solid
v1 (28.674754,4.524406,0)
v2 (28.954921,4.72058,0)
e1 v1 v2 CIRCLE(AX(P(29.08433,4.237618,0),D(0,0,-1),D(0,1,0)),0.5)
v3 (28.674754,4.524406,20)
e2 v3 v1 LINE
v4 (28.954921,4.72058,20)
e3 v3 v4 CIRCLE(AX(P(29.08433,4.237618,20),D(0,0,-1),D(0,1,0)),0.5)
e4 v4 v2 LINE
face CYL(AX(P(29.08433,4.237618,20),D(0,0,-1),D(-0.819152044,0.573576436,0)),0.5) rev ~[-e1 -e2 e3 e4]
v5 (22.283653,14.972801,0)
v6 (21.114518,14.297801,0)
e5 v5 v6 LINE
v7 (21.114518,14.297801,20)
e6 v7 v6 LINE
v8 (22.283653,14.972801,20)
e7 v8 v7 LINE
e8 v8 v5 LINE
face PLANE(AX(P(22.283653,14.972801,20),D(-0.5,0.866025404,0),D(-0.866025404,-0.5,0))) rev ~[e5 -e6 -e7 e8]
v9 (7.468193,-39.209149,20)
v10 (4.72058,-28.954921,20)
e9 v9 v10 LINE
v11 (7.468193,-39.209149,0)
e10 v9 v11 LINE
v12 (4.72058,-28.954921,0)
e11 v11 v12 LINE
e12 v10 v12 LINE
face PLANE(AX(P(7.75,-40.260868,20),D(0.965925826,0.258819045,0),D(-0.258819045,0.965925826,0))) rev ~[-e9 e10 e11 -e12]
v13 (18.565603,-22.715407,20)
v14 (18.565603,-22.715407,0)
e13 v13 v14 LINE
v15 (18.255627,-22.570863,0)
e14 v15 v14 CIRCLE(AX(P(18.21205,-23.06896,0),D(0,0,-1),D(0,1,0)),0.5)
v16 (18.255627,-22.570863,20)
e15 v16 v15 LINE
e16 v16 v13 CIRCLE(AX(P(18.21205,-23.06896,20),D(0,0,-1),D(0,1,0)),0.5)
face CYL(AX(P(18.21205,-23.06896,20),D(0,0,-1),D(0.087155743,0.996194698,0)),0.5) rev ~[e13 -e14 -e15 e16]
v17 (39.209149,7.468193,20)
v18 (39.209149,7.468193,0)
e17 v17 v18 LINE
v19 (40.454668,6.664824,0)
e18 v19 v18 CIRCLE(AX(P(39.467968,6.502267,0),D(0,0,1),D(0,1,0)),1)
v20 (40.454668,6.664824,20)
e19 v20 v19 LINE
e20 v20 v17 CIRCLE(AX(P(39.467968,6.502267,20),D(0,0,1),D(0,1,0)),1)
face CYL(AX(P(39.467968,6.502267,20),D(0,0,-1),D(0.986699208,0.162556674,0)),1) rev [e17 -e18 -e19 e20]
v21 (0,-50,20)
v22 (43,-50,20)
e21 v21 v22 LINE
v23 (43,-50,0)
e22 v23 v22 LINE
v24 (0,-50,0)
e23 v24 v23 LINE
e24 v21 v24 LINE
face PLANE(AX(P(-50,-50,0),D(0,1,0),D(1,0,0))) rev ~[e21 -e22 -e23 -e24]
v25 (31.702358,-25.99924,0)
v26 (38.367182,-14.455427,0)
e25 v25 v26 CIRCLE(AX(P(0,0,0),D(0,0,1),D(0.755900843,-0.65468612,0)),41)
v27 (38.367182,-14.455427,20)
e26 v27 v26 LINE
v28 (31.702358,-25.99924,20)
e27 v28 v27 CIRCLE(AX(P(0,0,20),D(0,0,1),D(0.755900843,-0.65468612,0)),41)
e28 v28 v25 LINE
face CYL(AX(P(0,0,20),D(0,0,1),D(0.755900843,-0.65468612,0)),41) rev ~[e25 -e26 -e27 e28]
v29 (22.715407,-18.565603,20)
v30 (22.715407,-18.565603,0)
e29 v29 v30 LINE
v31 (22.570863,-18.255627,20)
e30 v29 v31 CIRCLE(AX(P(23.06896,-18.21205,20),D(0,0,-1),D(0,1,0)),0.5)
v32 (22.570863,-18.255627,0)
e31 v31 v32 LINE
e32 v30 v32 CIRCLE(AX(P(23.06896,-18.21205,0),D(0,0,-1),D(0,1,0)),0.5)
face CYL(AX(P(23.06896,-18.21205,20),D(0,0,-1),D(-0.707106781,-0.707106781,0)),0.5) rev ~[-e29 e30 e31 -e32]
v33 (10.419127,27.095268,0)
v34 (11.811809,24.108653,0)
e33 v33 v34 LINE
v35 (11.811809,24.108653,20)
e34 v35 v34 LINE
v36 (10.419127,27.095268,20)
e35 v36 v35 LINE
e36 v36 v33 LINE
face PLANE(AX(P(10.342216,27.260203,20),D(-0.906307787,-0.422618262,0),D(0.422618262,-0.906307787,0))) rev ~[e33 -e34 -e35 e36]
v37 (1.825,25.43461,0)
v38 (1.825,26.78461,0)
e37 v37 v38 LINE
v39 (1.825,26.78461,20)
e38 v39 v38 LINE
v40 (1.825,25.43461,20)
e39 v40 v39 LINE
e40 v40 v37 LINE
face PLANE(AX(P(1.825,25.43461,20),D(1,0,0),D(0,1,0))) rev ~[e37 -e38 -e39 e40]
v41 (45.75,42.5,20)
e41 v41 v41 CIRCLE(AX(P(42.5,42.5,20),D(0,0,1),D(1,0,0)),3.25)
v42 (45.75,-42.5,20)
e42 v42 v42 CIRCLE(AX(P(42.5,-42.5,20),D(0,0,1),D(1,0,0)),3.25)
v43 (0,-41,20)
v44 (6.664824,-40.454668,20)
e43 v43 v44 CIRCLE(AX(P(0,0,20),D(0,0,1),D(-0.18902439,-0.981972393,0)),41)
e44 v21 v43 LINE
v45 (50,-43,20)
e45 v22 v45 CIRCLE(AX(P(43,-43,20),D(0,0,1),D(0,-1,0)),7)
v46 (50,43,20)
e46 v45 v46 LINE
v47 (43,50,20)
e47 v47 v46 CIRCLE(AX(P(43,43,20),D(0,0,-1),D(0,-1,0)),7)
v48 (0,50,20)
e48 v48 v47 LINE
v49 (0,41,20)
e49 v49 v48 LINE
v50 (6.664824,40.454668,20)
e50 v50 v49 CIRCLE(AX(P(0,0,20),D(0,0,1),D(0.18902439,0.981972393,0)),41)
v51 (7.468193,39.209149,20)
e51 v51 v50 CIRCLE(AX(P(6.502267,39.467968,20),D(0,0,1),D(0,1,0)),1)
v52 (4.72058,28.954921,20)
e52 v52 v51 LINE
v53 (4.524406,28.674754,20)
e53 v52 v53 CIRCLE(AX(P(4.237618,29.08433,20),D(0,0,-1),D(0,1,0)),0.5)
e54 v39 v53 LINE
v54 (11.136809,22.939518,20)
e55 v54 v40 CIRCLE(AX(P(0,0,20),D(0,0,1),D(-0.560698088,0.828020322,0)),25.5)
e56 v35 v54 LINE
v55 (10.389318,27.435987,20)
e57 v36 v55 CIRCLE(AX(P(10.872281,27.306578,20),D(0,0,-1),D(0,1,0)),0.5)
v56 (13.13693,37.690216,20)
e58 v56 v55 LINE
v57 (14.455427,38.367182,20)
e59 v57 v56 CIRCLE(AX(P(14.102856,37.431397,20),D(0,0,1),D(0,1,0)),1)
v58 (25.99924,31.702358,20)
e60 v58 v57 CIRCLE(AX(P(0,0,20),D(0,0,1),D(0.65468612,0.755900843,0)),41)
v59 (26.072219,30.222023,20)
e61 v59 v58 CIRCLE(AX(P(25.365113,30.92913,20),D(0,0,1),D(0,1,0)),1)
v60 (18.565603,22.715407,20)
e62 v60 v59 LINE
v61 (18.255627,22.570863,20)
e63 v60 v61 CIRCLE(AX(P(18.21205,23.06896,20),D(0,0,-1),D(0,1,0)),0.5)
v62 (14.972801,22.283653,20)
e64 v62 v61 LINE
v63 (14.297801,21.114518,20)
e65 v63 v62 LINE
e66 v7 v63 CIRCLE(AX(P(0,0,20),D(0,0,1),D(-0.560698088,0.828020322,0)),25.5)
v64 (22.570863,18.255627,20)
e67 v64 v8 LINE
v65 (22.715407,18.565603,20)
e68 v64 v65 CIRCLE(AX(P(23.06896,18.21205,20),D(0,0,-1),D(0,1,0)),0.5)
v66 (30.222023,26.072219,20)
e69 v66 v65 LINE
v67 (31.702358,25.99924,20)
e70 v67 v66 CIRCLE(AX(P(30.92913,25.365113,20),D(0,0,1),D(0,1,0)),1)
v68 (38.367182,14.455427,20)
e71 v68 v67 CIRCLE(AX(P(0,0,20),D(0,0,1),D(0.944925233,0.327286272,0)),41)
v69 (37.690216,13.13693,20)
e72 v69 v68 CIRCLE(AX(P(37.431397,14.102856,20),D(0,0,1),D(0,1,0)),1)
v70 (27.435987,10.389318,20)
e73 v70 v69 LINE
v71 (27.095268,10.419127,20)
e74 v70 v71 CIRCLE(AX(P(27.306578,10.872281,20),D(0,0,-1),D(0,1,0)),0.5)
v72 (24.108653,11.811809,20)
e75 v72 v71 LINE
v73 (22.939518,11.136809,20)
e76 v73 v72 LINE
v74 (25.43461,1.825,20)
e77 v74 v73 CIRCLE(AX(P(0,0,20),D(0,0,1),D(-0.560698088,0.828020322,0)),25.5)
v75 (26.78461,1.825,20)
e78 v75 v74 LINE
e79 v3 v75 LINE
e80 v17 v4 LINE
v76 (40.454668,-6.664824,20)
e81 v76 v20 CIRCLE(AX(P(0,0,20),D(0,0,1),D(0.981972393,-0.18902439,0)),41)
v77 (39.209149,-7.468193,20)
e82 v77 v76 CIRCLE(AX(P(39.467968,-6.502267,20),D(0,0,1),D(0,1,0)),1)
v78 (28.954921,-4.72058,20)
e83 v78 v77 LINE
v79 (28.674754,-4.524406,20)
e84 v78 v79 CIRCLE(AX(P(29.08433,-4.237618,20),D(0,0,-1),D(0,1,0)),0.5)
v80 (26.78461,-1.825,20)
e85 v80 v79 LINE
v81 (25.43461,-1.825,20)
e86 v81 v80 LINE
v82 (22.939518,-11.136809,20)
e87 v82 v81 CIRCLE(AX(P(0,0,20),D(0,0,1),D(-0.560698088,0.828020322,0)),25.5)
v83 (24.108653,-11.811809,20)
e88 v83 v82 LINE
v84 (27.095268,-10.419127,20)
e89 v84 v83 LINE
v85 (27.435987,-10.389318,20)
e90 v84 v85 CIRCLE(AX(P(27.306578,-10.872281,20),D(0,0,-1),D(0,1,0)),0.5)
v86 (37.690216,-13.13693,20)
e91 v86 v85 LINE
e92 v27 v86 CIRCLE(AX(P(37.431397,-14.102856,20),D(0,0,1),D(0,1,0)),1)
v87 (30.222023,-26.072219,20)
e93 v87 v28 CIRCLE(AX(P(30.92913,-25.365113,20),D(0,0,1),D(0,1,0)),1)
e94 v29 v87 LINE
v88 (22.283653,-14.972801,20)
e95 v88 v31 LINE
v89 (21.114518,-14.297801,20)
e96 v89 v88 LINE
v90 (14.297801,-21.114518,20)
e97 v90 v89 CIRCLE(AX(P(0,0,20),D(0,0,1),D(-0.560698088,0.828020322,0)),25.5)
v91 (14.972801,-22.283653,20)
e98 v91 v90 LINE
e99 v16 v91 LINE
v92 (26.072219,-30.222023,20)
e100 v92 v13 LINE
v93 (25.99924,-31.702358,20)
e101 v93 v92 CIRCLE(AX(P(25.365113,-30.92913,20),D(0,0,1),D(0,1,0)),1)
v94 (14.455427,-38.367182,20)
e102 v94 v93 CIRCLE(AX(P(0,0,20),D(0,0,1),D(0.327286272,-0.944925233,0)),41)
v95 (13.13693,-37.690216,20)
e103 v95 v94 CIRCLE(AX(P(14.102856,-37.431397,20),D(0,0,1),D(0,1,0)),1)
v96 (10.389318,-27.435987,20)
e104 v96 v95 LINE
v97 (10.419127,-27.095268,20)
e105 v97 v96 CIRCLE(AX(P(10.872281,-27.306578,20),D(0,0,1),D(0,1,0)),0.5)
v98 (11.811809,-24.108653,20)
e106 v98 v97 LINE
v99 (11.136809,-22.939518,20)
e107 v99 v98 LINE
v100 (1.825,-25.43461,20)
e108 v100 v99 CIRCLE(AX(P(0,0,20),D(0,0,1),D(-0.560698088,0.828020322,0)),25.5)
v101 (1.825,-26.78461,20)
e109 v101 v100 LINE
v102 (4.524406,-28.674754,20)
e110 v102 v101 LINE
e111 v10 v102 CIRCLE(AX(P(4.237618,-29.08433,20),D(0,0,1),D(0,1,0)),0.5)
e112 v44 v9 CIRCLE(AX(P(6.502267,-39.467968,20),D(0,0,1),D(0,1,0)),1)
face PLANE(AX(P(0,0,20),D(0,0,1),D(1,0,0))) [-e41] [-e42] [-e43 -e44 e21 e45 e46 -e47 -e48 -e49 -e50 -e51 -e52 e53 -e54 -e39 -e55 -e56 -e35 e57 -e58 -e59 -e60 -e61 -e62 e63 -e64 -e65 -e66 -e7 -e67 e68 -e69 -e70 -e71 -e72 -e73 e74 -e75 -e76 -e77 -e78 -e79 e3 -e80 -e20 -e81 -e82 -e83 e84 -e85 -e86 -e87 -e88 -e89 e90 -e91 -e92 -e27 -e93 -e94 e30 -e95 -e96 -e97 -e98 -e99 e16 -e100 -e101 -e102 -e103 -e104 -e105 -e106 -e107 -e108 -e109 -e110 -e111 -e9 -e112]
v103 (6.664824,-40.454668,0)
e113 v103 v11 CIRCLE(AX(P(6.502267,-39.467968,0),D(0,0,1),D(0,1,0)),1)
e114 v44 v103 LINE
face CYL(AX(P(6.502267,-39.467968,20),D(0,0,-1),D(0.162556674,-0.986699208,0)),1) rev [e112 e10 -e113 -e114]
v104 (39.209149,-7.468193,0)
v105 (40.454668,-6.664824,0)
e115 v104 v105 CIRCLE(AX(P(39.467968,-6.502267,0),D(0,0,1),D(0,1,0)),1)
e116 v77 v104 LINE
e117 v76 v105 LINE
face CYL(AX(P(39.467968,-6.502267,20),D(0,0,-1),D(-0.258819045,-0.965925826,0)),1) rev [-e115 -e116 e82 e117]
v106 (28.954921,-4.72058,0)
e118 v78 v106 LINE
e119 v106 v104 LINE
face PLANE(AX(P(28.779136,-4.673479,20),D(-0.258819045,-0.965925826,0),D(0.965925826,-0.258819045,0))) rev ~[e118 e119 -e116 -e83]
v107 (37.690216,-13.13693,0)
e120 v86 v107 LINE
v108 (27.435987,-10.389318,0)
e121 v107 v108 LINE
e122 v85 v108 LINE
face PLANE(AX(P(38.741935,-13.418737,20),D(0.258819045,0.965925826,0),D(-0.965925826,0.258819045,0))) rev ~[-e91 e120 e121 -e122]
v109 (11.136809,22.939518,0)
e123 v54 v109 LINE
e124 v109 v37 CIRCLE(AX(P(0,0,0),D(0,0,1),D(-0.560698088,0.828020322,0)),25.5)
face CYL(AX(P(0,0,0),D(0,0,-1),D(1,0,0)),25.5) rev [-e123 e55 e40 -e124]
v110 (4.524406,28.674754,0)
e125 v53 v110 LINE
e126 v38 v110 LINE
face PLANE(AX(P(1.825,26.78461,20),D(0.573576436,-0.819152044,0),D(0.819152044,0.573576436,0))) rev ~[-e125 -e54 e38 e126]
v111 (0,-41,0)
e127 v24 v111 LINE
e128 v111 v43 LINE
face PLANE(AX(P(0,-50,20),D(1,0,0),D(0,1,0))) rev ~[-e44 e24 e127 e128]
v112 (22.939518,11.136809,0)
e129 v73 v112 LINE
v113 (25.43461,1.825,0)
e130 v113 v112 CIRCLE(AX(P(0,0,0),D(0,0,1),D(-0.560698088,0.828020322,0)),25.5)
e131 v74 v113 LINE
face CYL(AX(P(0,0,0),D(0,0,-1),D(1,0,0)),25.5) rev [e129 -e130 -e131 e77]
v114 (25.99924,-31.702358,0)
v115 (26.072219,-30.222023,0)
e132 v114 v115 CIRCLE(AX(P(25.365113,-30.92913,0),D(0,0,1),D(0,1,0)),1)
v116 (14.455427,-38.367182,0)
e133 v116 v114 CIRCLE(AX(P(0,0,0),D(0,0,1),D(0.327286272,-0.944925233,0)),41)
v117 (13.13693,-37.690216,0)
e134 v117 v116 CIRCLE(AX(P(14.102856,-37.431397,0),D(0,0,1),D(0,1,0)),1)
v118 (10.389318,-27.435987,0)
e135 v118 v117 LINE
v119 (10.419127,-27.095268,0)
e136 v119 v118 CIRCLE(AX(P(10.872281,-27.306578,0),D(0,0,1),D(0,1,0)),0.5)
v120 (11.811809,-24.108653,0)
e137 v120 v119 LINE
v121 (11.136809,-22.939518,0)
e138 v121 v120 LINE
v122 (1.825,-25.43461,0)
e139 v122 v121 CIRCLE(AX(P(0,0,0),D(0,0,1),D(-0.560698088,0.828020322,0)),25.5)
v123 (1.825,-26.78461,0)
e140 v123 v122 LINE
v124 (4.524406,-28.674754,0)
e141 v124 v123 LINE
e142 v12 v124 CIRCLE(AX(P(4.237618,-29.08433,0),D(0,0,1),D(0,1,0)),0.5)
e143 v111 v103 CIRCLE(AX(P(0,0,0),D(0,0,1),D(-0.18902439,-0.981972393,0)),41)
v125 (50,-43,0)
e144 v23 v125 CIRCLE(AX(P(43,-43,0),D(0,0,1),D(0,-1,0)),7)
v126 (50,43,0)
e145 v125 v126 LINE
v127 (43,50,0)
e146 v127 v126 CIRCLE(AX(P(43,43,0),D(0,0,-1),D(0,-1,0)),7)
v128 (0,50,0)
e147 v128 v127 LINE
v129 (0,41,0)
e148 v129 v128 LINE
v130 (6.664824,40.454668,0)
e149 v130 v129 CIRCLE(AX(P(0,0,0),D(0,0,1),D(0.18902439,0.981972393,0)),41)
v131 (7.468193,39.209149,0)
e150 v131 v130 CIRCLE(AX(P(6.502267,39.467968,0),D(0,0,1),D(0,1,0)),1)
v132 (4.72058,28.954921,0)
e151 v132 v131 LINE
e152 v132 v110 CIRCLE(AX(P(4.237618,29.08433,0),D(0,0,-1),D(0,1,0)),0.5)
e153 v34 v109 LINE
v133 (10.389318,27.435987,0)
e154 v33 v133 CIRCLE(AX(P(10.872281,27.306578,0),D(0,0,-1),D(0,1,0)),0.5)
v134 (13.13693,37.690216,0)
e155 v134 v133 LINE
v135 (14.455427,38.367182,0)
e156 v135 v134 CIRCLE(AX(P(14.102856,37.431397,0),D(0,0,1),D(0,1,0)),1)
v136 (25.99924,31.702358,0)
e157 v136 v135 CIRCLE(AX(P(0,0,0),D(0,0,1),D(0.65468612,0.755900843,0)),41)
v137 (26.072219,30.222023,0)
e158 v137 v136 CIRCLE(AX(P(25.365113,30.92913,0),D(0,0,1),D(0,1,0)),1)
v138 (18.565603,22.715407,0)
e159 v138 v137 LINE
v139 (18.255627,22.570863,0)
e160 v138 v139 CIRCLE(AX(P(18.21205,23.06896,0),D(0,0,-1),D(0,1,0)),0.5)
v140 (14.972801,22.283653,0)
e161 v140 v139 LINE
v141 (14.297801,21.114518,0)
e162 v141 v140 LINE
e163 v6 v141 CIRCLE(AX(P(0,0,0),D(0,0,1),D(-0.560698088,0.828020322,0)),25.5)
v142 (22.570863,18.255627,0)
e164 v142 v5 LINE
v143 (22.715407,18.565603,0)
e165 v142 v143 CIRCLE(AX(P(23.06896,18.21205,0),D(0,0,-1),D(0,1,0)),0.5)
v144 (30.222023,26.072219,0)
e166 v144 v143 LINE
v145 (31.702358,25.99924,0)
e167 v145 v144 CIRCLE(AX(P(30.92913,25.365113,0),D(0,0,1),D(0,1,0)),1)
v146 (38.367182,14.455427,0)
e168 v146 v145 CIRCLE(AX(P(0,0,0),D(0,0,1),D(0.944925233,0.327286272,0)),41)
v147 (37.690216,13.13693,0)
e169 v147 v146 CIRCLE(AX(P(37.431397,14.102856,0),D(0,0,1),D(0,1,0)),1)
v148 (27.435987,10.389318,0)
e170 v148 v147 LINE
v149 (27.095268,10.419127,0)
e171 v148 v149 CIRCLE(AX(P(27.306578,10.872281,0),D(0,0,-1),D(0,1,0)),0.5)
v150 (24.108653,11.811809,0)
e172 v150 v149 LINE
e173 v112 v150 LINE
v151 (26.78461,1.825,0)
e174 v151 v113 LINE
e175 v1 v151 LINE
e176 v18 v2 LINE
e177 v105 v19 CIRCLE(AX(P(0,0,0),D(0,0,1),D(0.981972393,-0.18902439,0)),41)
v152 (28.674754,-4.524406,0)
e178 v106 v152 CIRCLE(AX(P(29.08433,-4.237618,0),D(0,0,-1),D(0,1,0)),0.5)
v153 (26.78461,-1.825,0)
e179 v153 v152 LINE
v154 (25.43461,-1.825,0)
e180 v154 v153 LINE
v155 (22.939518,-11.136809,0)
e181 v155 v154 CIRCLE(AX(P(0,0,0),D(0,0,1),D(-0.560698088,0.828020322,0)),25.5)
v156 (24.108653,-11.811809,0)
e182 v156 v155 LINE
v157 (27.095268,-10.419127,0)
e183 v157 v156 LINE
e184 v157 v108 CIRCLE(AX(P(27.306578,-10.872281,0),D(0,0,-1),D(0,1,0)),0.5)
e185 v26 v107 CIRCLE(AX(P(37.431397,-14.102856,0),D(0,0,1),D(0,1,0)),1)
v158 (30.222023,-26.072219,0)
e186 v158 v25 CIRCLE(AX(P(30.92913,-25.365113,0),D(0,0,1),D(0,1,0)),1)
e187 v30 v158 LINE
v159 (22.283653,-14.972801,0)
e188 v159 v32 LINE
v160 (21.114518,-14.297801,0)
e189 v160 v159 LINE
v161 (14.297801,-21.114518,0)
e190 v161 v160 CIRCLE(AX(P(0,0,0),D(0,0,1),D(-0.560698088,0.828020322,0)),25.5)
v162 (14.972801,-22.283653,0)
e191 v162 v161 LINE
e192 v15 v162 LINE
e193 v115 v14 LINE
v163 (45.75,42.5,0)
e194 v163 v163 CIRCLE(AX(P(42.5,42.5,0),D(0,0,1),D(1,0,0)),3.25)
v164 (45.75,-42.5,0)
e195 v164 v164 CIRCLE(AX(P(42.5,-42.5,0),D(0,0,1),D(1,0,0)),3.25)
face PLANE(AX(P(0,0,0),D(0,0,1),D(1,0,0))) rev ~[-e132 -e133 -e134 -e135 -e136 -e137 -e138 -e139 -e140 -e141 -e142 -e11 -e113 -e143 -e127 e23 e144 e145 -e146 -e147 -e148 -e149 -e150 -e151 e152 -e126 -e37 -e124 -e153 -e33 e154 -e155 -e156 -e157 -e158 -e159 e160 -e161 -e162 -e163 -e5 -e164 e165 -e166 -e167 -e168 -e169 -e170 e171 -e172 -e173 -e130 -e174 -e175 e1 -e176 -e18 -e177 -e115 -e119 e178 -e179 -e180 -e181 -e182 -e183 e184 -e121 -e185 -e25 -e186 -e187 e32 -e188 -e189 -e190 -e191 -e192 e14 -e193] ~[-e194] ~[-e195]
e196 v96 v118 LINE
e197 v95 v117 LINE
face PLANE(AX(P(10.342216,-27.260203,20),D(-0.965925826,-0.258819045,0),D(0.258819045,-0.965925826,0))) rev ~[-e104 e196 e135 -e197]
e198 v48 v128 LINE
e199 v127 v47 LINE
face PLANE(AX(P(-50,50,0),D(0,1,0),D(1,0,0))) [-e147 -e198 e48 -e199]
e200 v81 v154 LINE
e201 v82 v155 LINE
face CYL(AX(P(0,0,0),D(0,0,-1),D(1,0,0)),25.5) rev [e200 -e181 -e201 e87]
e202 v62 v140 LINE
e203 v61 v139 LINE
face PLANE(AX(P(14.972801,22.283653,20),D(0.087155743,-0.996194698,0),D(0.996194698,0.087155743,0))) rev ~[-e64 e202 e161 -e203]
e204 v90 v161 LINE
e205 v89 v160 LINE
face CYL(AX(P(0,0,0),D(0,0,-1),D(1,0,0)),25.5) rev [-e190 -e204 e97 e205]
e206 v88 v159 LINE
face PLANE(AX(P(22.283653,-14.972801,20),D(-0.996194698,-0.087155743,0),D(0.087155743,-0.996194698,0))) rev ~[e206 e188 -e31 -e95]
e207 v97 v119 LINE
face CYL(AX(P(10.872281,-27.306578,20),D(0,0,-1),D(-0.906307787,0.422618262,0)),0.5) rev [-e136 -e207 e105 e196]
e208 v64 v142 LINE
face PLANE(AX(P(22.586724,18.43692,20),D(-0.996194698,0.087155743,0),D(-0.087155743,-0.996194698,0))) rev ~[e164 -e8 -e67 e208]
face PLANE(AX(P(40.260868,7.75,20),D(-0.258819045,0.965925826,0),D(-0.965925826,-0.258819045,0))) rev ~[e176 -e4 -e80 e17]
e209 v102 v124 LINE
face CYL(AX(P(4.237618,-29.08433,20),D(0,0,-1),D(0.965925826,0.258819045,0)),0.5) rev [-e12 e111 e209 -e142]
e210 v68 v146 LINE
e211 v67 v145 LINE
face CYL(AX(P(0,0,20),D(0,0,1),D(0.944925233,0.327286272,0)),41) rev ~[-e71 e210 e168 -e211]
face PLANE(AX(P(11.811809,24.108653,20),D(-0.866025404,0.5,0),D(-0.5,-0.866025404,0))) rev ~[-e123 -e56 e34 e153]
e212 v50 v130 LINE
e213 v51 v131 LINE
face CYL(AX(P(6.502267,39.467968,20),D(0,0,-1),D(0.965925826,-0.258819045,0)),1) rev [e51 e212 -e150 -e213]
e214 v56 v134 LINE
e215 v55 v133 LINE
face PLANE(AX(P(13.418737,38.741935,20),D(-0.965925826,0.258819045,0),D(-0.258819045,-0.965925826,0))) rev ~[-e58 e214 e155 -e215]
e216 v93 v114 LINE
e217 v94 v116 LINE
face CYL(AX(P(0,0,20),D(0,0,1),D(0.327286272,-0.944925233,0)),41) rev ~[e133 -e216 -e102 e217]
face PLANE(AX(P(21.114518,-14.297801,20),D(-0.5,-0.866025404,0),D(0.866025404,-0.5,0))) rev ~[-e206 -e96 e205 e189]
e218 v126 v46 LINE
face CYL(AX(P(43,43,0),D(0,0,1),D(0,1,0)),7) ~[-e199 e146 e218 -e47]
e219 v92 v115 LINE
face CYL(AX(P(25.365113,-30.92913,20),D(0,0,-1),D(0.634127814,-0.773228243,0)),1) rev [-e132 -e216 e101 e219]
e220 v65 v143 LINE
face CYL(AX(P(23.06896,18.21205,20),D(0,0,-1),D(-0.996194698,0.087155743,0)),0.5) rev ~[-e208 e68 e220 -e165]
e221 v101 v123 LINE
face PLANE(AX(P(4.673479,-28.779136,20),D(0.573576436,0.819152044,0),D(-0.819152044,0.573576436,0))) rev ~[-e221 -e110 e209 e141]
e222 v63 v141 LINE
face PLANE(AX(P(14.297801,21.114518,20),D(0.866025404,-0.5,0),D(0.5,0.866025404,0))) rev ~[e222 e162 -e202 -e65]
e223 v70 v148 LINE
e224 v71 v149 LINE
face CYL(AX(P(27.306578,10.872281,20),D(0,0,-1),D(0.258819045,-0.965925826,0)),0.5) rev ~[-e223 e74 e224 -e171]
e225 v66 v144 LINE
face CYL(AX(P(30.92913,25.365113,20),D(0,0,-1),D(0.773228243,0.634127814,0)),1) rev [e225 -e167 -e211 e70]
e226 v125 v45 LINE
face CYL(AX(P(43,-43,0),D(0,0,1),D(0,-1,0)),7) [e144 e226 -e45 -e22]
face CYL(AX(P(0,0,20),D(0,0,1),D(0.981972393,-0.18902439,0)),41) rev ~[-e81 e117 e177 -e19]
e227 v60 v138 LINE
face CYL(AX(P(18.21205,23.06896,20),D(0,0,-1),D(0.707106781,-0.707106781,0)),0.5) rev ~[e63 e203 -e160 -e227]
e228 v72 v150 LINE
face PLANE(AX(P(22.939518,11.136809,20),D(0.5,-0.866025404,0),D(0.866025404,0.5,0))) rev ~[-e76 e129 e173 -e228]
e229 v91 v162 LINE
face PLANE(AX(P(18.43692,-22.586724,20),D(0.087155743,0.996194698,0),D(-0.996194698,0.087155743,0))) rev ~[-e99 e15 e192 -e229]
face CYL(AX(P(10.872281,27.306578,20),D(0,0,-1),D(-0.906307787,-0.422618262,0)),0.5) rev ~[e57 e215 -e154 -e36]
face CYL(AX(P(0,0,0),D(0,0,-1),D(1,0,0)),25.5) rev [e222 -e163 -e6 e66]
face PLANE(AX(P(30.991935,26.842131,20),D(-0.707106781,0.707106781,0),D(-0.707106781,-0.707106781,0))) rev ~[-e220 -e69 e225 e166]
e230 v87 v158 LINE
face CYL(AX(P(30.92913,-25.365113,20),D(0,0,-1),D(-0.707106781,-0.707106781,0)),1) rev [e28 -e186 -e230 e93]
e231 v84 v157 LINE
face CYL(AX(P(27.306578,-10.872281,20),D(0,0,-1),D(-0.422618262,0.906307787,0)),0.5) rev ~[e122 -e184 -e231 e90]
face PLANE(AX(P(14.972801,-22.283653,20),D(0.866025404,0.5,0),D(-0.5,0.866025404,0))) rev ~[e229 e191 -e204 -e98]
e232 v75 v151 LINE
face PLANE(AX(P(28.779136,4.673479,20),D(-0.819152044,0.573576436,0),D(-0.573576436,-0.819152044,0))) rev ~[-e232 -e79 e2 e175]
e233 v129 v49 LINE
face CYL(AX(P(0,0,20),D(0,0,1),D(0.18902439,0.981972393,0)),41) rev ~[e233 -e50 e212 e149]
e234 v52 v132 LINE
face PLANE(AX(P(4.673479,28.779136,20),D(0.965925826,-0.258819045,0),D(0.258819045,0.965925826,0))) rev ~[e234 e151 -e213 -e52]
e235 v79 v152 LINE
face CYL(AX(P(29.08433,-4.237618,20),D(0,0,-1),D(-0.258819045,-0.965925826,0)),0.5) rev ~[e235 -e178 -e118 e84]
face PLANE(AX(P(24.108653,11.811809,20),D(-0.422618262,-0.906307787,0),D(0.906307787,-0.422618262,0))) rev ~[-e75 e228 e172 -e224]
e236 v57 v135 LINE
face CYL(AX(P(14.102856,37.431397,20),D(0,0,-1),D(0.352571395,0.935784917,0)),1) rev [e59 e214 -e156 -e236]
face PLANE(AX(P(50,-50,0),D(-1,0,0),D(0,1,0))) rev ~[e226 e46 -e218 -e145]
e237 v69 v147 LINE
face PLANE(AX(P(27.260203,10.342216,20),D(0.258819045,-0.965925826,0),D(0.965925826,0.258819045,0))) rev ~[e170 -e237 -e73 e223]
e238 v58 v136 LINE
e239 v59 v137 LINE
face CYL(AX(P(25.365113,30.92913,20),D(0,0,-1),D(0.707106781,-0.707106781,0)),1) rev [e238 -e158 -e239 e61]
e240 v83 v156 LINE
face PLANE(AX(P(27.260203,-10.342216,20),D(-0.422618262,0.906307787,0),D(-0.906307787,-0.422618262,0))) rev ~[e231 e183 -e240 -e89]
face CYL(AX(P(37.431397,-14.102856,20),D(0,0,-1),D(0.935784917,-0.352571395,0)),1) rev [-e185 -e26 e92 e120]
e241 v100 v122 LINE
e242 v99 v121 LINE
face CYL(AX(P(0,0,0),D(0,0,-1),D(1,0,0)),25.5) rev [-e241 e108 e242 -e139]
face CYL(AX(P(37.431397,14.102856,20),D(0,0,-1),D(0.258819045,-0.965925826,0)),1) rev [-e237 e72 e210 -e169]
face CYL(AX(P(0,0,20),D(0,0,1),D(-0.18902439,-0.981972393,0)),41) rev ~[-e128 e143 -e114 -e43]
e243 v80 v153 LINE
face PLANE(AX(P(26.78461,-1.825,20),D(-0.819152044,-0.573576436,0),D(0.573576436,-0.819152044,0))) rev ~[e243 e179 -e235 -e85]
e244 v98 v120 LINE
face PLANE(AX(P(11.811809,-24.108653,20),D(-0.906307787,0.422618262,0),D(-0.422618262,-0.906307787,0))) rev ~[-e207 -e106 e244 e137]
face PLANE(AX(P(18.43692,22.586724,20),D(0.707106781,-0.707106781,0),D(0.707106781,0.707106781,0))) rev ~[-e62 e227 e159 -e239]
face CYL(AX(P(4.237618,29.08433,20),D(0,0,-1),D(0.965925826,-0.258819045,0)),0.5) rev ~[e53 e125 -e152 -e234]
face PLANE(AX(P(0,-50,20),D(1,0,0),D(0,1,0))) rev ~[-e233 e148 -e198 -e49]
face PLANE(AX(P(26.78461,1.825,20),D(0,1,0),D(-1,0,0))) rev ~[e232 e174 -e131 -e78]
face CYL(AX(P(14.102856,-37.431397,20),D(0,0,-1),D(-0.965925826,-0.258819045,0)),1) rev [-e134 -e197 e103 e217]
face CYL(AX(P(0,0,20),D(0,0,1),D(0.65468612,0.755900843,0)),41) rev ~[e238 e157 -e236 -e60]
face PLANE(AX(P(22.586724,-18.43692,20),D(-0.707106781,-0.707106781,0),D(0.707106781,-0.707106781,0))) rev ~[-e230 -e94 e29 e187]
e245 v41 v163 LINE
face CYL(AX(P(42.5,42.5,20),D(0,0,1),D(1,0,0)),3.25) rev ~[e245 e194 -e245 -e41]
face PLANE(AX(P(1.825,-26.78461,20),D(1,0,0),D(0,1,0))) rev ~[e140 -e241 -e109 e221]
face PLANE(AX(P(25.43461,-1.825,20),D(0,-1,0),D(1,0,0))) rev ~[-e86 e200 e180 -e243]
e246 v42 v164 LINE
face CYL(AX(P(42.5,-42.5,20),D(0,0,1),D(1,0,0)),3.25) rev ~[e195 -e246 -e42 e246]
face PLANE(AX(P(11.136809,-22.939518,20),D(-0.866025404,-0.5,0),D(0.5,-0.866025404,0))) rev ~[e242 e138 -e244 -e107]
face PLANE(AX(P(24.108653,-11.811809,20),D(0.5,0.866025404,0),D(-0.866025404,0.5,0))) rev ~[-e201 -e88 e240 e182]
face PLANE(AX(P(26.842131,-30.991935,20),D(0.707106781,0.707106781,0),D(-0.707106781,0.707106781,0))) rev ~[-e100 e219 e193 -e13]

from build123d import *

# Parameters (mm, degrees)
SKETCH1_W                              = 100
SKETCH1_H                              = 100
SKETCH1_R                              = 25.5
LAMINATION_EXTRUCTION_DEPTH            = 20
SLOT_CUT_DEPTH                         = 74.484692283
SLOT_FILLET_TOP_R                      = 1
SLOT_FILLET_BOTTOM_R                   = 0.5
SLOT_DUPLICATE_COUNT                   = 12
SLOT_FILLET_TOP_OF_SLOT_DUPLICATE_R    = 1
SLOT_FILLET_BOTTOM_OF_SLOT_DUPLICATE_R = 0.5
SKETCH3_R                              = 3.25
BOLT_HOLE_CUT_DEPTH                    = 74.484692283
CORNER_FILLET_R                        = 7
SKETCH4_W                              = 50
SKETCH4_H                              = 100
CUT_EXTRUDE1_DEPTH                     = 74.484692283


with BuildPart() as part:
    # Sketch1 → Lamination Extruction (new body)
    with BuildSketch(Plane.XY):
        Rectangle(SKETCH1_W, SKETCH1_H)
        Circle(SKETCH1_R, mode=Mode.SUBTRACT)
    extrude(amount=LAMINATION_EXTRUCTION_DEPTH)

    # Sketch2 → Slot Cut (cut, through all)
    with BuildSketch(Plane.XY.offset(20)):
        with BuildLine():
            Line((4.673479277, 28.779136449), (7.75, 40.260868098))
            ThreePointArc((7.75, 40.260868098), (0, 41), (-7.75, 40.260868098))
            Line((-7.75, 40.260868098), (-4.673479277, 28.779136449))
            Line((-4.673479277, 28.779136449), (-1.825, 26.784609787))
            Line((-1.825, 26.784609787), (-1.825, 25.434609787))
            ThreePointArc((-1.825, 25.434609787), (0, 25.5), (1.825, 25.434609787))
            Line((1.825, 25.434609787), (1.825, 26.784609787))
            Line((1.825, 26.784609787), (4.673479277, 28.779136449))
        make_face()
    slot_cut = extrude(amount=-SLOT_CUT_DEPTH, mode=Mode.SUBTRACT)

    # Slot Fillet Top
    slot_fillet_top_edges = [part.edges().sort_by_distance(p)[0] for p in [
        (-7.75, 40.260868098, 10),
        (7.75, 40.260868098, 10),
    ]]
    fillet(slot_fillet_top_edges, radius=SLOT_FILLET_TOP_R)

    # Slot Fillet Bottom
    slot_fillet_bottom_edges = [part.edges().sort_by_distance(p)[0] for p in [
        (4.673479277, 28.779136449, 10),
        (-4.673479277, 28.779136449, 10),
    ]]
    fillet(slot_fillet_bottom_edges, radius=SLOT_FILLET_BOTTOM_R)

    # Slot Duplicate: Slot Cut ×12 about axis
    slot_duplicate_axis = Axis((0, 0, 0), (0, 0, 1))
    for i in range(1, SLOT_DUPLICATE_COUNT):
        add(slot_cut.rotate(slot_duplicate_axis, i * 360 / SLOT_DUPLICATE_COUNT), mode=Mode.SUBTRACT)

    # Slot Fillet Top of Slot Duplicate
    slot_fillet_top_of_slot_duplicate_edges = [part.edges().sort_by_distance(p)[0] for p in [
        (-26.842130928, 30.991934551, 10),
        (-13.41873717, 38.741934551, 10),
        (-38.741934551, 13.41873717, 10),
        (-30.991934551, 26.842130928, 10),
        (-40.260868098, -7.75, 10),
        (-40.260868098, 7.75, 10),
        (-30.991934551, -26.842130928, 10),
        (-38.741934551, -13.41873717, 10),
        (-13.41873717, -38.741934551, 10),
        (-26.842130928, -30.991934551, 10),
        (7.75, -40.260868098, 10),
        (-7.75, -40.260868098, 10),
        (26.842130928, -30.991934551, 10),
        (13.41873717, -38.741934551, 10),
        (38.741934551, -13.41873717, 10),
        (30.991934551, -26.842130928, 10),
        (40.260868098, 7.75, 10),
        (40.260868098, -7.75, 10),
        (30.991934551, 26.842130928, 10),
        (38.741934551, 13.41873717, 10),
        (13.41873717, 38.741934551, 10),
        (26.842130928, 30.991934551, 10),
    ]]
    fillet(slot_fillet_top_of_slot_duplicate_edges, radius=SLOT_FILLET_TOP_OF_SLOT_DUPLICATE_R)

    # Slot Fillet Bottom of Slot Duplicate
    slot_fillet_bottom_of_slot_duplicate_edges = [part.edges().sort_by_distance(p)[0] for p in [
        (-10.342216447, 27.260202902, 10),
        (-18.436920002, 22.586723625, 10),
        (-22.586723625, 18.436920002, 10),
        (-27.260202902, 10.342216447, 10),
        (-28.779136449, 4.673479277, 10),
        (-28.779136449, -4.673479277, 10),
        (-27.260202902, -10.342216447, 10),
        (-22.586723625, -18.436920002, 10),
        (-18.436920002, -22.586723625, 10),
        (-10.342216447, -27.260202902, 10),
        (-4.673479277, -28.779136449, 10),
        (4.673479277, -28.779136449, 10),
        (10.342216447, -27.260202902, 10),
        (18.436920002, -22.586723625, 10),
        (22.586723625, -18.436920002, 10),
        (27.260202902, -10.342216447, 10),
        (28.779136449, -4.673479277, 10),
        (28.779136449, 4.673479277, 10),
        (27.260202902, 10.342216447, 10),
        (22.586723625, 18.436920002, 10),
        (18.436920002, 22.586723625, 10),
        (10.342216447, 27.260202902, 10),
    ]]
    fillet(slot_fillet_bottom_of_slot_duplicate_edges, radius=SLOT_FILLET_BOTTOM_OF_SLOT_DUPLICATE_R)

    # Sketch3 → Bolt Hole Cut (cut, through all)
    with BuildSketch(Plane.XY.offset(20)):
        with Locations((-42.5, 42.5)):
            Circle(SKETCH3_R)
        with Locations((42.5, 42.5)):
            Circle(SKETCH3_R)
        with Locations((42.5, -42.5)):
            Circle(SKETCH3_R)
        with Locations((-42.5, -42.5)):
            Circle(SKETCH3_R)
    extrude(amount=-BOLT_HOLE_CUT_DEPTH, mode=Mode.SUBTRACT)

    # Corner Fillet
    corner_fillet_edges = [part.edges().sort_by_distance(p)[0] for p in [
        (-50, 50, 10),
        (50, 50, 10),
        (50, -50, 10),
        (-50, -50, 10),
    ]]
    fillet(corner_fillet_edges, radius=CORNER_FILLET_R)

    # Sketch4 → Cut-Extrude1 (cut, through all)
    with BuildSketch(Plane.XY.offset(20)):
        with Locations((-25, 0)):
            Rectangle(SKETCH4_W, SKETCH4_H)
    extrude(amount=-CUT_EXTRUDE1_DEPTH, mode=Mode.SUBTRACT)


solid = part.part
